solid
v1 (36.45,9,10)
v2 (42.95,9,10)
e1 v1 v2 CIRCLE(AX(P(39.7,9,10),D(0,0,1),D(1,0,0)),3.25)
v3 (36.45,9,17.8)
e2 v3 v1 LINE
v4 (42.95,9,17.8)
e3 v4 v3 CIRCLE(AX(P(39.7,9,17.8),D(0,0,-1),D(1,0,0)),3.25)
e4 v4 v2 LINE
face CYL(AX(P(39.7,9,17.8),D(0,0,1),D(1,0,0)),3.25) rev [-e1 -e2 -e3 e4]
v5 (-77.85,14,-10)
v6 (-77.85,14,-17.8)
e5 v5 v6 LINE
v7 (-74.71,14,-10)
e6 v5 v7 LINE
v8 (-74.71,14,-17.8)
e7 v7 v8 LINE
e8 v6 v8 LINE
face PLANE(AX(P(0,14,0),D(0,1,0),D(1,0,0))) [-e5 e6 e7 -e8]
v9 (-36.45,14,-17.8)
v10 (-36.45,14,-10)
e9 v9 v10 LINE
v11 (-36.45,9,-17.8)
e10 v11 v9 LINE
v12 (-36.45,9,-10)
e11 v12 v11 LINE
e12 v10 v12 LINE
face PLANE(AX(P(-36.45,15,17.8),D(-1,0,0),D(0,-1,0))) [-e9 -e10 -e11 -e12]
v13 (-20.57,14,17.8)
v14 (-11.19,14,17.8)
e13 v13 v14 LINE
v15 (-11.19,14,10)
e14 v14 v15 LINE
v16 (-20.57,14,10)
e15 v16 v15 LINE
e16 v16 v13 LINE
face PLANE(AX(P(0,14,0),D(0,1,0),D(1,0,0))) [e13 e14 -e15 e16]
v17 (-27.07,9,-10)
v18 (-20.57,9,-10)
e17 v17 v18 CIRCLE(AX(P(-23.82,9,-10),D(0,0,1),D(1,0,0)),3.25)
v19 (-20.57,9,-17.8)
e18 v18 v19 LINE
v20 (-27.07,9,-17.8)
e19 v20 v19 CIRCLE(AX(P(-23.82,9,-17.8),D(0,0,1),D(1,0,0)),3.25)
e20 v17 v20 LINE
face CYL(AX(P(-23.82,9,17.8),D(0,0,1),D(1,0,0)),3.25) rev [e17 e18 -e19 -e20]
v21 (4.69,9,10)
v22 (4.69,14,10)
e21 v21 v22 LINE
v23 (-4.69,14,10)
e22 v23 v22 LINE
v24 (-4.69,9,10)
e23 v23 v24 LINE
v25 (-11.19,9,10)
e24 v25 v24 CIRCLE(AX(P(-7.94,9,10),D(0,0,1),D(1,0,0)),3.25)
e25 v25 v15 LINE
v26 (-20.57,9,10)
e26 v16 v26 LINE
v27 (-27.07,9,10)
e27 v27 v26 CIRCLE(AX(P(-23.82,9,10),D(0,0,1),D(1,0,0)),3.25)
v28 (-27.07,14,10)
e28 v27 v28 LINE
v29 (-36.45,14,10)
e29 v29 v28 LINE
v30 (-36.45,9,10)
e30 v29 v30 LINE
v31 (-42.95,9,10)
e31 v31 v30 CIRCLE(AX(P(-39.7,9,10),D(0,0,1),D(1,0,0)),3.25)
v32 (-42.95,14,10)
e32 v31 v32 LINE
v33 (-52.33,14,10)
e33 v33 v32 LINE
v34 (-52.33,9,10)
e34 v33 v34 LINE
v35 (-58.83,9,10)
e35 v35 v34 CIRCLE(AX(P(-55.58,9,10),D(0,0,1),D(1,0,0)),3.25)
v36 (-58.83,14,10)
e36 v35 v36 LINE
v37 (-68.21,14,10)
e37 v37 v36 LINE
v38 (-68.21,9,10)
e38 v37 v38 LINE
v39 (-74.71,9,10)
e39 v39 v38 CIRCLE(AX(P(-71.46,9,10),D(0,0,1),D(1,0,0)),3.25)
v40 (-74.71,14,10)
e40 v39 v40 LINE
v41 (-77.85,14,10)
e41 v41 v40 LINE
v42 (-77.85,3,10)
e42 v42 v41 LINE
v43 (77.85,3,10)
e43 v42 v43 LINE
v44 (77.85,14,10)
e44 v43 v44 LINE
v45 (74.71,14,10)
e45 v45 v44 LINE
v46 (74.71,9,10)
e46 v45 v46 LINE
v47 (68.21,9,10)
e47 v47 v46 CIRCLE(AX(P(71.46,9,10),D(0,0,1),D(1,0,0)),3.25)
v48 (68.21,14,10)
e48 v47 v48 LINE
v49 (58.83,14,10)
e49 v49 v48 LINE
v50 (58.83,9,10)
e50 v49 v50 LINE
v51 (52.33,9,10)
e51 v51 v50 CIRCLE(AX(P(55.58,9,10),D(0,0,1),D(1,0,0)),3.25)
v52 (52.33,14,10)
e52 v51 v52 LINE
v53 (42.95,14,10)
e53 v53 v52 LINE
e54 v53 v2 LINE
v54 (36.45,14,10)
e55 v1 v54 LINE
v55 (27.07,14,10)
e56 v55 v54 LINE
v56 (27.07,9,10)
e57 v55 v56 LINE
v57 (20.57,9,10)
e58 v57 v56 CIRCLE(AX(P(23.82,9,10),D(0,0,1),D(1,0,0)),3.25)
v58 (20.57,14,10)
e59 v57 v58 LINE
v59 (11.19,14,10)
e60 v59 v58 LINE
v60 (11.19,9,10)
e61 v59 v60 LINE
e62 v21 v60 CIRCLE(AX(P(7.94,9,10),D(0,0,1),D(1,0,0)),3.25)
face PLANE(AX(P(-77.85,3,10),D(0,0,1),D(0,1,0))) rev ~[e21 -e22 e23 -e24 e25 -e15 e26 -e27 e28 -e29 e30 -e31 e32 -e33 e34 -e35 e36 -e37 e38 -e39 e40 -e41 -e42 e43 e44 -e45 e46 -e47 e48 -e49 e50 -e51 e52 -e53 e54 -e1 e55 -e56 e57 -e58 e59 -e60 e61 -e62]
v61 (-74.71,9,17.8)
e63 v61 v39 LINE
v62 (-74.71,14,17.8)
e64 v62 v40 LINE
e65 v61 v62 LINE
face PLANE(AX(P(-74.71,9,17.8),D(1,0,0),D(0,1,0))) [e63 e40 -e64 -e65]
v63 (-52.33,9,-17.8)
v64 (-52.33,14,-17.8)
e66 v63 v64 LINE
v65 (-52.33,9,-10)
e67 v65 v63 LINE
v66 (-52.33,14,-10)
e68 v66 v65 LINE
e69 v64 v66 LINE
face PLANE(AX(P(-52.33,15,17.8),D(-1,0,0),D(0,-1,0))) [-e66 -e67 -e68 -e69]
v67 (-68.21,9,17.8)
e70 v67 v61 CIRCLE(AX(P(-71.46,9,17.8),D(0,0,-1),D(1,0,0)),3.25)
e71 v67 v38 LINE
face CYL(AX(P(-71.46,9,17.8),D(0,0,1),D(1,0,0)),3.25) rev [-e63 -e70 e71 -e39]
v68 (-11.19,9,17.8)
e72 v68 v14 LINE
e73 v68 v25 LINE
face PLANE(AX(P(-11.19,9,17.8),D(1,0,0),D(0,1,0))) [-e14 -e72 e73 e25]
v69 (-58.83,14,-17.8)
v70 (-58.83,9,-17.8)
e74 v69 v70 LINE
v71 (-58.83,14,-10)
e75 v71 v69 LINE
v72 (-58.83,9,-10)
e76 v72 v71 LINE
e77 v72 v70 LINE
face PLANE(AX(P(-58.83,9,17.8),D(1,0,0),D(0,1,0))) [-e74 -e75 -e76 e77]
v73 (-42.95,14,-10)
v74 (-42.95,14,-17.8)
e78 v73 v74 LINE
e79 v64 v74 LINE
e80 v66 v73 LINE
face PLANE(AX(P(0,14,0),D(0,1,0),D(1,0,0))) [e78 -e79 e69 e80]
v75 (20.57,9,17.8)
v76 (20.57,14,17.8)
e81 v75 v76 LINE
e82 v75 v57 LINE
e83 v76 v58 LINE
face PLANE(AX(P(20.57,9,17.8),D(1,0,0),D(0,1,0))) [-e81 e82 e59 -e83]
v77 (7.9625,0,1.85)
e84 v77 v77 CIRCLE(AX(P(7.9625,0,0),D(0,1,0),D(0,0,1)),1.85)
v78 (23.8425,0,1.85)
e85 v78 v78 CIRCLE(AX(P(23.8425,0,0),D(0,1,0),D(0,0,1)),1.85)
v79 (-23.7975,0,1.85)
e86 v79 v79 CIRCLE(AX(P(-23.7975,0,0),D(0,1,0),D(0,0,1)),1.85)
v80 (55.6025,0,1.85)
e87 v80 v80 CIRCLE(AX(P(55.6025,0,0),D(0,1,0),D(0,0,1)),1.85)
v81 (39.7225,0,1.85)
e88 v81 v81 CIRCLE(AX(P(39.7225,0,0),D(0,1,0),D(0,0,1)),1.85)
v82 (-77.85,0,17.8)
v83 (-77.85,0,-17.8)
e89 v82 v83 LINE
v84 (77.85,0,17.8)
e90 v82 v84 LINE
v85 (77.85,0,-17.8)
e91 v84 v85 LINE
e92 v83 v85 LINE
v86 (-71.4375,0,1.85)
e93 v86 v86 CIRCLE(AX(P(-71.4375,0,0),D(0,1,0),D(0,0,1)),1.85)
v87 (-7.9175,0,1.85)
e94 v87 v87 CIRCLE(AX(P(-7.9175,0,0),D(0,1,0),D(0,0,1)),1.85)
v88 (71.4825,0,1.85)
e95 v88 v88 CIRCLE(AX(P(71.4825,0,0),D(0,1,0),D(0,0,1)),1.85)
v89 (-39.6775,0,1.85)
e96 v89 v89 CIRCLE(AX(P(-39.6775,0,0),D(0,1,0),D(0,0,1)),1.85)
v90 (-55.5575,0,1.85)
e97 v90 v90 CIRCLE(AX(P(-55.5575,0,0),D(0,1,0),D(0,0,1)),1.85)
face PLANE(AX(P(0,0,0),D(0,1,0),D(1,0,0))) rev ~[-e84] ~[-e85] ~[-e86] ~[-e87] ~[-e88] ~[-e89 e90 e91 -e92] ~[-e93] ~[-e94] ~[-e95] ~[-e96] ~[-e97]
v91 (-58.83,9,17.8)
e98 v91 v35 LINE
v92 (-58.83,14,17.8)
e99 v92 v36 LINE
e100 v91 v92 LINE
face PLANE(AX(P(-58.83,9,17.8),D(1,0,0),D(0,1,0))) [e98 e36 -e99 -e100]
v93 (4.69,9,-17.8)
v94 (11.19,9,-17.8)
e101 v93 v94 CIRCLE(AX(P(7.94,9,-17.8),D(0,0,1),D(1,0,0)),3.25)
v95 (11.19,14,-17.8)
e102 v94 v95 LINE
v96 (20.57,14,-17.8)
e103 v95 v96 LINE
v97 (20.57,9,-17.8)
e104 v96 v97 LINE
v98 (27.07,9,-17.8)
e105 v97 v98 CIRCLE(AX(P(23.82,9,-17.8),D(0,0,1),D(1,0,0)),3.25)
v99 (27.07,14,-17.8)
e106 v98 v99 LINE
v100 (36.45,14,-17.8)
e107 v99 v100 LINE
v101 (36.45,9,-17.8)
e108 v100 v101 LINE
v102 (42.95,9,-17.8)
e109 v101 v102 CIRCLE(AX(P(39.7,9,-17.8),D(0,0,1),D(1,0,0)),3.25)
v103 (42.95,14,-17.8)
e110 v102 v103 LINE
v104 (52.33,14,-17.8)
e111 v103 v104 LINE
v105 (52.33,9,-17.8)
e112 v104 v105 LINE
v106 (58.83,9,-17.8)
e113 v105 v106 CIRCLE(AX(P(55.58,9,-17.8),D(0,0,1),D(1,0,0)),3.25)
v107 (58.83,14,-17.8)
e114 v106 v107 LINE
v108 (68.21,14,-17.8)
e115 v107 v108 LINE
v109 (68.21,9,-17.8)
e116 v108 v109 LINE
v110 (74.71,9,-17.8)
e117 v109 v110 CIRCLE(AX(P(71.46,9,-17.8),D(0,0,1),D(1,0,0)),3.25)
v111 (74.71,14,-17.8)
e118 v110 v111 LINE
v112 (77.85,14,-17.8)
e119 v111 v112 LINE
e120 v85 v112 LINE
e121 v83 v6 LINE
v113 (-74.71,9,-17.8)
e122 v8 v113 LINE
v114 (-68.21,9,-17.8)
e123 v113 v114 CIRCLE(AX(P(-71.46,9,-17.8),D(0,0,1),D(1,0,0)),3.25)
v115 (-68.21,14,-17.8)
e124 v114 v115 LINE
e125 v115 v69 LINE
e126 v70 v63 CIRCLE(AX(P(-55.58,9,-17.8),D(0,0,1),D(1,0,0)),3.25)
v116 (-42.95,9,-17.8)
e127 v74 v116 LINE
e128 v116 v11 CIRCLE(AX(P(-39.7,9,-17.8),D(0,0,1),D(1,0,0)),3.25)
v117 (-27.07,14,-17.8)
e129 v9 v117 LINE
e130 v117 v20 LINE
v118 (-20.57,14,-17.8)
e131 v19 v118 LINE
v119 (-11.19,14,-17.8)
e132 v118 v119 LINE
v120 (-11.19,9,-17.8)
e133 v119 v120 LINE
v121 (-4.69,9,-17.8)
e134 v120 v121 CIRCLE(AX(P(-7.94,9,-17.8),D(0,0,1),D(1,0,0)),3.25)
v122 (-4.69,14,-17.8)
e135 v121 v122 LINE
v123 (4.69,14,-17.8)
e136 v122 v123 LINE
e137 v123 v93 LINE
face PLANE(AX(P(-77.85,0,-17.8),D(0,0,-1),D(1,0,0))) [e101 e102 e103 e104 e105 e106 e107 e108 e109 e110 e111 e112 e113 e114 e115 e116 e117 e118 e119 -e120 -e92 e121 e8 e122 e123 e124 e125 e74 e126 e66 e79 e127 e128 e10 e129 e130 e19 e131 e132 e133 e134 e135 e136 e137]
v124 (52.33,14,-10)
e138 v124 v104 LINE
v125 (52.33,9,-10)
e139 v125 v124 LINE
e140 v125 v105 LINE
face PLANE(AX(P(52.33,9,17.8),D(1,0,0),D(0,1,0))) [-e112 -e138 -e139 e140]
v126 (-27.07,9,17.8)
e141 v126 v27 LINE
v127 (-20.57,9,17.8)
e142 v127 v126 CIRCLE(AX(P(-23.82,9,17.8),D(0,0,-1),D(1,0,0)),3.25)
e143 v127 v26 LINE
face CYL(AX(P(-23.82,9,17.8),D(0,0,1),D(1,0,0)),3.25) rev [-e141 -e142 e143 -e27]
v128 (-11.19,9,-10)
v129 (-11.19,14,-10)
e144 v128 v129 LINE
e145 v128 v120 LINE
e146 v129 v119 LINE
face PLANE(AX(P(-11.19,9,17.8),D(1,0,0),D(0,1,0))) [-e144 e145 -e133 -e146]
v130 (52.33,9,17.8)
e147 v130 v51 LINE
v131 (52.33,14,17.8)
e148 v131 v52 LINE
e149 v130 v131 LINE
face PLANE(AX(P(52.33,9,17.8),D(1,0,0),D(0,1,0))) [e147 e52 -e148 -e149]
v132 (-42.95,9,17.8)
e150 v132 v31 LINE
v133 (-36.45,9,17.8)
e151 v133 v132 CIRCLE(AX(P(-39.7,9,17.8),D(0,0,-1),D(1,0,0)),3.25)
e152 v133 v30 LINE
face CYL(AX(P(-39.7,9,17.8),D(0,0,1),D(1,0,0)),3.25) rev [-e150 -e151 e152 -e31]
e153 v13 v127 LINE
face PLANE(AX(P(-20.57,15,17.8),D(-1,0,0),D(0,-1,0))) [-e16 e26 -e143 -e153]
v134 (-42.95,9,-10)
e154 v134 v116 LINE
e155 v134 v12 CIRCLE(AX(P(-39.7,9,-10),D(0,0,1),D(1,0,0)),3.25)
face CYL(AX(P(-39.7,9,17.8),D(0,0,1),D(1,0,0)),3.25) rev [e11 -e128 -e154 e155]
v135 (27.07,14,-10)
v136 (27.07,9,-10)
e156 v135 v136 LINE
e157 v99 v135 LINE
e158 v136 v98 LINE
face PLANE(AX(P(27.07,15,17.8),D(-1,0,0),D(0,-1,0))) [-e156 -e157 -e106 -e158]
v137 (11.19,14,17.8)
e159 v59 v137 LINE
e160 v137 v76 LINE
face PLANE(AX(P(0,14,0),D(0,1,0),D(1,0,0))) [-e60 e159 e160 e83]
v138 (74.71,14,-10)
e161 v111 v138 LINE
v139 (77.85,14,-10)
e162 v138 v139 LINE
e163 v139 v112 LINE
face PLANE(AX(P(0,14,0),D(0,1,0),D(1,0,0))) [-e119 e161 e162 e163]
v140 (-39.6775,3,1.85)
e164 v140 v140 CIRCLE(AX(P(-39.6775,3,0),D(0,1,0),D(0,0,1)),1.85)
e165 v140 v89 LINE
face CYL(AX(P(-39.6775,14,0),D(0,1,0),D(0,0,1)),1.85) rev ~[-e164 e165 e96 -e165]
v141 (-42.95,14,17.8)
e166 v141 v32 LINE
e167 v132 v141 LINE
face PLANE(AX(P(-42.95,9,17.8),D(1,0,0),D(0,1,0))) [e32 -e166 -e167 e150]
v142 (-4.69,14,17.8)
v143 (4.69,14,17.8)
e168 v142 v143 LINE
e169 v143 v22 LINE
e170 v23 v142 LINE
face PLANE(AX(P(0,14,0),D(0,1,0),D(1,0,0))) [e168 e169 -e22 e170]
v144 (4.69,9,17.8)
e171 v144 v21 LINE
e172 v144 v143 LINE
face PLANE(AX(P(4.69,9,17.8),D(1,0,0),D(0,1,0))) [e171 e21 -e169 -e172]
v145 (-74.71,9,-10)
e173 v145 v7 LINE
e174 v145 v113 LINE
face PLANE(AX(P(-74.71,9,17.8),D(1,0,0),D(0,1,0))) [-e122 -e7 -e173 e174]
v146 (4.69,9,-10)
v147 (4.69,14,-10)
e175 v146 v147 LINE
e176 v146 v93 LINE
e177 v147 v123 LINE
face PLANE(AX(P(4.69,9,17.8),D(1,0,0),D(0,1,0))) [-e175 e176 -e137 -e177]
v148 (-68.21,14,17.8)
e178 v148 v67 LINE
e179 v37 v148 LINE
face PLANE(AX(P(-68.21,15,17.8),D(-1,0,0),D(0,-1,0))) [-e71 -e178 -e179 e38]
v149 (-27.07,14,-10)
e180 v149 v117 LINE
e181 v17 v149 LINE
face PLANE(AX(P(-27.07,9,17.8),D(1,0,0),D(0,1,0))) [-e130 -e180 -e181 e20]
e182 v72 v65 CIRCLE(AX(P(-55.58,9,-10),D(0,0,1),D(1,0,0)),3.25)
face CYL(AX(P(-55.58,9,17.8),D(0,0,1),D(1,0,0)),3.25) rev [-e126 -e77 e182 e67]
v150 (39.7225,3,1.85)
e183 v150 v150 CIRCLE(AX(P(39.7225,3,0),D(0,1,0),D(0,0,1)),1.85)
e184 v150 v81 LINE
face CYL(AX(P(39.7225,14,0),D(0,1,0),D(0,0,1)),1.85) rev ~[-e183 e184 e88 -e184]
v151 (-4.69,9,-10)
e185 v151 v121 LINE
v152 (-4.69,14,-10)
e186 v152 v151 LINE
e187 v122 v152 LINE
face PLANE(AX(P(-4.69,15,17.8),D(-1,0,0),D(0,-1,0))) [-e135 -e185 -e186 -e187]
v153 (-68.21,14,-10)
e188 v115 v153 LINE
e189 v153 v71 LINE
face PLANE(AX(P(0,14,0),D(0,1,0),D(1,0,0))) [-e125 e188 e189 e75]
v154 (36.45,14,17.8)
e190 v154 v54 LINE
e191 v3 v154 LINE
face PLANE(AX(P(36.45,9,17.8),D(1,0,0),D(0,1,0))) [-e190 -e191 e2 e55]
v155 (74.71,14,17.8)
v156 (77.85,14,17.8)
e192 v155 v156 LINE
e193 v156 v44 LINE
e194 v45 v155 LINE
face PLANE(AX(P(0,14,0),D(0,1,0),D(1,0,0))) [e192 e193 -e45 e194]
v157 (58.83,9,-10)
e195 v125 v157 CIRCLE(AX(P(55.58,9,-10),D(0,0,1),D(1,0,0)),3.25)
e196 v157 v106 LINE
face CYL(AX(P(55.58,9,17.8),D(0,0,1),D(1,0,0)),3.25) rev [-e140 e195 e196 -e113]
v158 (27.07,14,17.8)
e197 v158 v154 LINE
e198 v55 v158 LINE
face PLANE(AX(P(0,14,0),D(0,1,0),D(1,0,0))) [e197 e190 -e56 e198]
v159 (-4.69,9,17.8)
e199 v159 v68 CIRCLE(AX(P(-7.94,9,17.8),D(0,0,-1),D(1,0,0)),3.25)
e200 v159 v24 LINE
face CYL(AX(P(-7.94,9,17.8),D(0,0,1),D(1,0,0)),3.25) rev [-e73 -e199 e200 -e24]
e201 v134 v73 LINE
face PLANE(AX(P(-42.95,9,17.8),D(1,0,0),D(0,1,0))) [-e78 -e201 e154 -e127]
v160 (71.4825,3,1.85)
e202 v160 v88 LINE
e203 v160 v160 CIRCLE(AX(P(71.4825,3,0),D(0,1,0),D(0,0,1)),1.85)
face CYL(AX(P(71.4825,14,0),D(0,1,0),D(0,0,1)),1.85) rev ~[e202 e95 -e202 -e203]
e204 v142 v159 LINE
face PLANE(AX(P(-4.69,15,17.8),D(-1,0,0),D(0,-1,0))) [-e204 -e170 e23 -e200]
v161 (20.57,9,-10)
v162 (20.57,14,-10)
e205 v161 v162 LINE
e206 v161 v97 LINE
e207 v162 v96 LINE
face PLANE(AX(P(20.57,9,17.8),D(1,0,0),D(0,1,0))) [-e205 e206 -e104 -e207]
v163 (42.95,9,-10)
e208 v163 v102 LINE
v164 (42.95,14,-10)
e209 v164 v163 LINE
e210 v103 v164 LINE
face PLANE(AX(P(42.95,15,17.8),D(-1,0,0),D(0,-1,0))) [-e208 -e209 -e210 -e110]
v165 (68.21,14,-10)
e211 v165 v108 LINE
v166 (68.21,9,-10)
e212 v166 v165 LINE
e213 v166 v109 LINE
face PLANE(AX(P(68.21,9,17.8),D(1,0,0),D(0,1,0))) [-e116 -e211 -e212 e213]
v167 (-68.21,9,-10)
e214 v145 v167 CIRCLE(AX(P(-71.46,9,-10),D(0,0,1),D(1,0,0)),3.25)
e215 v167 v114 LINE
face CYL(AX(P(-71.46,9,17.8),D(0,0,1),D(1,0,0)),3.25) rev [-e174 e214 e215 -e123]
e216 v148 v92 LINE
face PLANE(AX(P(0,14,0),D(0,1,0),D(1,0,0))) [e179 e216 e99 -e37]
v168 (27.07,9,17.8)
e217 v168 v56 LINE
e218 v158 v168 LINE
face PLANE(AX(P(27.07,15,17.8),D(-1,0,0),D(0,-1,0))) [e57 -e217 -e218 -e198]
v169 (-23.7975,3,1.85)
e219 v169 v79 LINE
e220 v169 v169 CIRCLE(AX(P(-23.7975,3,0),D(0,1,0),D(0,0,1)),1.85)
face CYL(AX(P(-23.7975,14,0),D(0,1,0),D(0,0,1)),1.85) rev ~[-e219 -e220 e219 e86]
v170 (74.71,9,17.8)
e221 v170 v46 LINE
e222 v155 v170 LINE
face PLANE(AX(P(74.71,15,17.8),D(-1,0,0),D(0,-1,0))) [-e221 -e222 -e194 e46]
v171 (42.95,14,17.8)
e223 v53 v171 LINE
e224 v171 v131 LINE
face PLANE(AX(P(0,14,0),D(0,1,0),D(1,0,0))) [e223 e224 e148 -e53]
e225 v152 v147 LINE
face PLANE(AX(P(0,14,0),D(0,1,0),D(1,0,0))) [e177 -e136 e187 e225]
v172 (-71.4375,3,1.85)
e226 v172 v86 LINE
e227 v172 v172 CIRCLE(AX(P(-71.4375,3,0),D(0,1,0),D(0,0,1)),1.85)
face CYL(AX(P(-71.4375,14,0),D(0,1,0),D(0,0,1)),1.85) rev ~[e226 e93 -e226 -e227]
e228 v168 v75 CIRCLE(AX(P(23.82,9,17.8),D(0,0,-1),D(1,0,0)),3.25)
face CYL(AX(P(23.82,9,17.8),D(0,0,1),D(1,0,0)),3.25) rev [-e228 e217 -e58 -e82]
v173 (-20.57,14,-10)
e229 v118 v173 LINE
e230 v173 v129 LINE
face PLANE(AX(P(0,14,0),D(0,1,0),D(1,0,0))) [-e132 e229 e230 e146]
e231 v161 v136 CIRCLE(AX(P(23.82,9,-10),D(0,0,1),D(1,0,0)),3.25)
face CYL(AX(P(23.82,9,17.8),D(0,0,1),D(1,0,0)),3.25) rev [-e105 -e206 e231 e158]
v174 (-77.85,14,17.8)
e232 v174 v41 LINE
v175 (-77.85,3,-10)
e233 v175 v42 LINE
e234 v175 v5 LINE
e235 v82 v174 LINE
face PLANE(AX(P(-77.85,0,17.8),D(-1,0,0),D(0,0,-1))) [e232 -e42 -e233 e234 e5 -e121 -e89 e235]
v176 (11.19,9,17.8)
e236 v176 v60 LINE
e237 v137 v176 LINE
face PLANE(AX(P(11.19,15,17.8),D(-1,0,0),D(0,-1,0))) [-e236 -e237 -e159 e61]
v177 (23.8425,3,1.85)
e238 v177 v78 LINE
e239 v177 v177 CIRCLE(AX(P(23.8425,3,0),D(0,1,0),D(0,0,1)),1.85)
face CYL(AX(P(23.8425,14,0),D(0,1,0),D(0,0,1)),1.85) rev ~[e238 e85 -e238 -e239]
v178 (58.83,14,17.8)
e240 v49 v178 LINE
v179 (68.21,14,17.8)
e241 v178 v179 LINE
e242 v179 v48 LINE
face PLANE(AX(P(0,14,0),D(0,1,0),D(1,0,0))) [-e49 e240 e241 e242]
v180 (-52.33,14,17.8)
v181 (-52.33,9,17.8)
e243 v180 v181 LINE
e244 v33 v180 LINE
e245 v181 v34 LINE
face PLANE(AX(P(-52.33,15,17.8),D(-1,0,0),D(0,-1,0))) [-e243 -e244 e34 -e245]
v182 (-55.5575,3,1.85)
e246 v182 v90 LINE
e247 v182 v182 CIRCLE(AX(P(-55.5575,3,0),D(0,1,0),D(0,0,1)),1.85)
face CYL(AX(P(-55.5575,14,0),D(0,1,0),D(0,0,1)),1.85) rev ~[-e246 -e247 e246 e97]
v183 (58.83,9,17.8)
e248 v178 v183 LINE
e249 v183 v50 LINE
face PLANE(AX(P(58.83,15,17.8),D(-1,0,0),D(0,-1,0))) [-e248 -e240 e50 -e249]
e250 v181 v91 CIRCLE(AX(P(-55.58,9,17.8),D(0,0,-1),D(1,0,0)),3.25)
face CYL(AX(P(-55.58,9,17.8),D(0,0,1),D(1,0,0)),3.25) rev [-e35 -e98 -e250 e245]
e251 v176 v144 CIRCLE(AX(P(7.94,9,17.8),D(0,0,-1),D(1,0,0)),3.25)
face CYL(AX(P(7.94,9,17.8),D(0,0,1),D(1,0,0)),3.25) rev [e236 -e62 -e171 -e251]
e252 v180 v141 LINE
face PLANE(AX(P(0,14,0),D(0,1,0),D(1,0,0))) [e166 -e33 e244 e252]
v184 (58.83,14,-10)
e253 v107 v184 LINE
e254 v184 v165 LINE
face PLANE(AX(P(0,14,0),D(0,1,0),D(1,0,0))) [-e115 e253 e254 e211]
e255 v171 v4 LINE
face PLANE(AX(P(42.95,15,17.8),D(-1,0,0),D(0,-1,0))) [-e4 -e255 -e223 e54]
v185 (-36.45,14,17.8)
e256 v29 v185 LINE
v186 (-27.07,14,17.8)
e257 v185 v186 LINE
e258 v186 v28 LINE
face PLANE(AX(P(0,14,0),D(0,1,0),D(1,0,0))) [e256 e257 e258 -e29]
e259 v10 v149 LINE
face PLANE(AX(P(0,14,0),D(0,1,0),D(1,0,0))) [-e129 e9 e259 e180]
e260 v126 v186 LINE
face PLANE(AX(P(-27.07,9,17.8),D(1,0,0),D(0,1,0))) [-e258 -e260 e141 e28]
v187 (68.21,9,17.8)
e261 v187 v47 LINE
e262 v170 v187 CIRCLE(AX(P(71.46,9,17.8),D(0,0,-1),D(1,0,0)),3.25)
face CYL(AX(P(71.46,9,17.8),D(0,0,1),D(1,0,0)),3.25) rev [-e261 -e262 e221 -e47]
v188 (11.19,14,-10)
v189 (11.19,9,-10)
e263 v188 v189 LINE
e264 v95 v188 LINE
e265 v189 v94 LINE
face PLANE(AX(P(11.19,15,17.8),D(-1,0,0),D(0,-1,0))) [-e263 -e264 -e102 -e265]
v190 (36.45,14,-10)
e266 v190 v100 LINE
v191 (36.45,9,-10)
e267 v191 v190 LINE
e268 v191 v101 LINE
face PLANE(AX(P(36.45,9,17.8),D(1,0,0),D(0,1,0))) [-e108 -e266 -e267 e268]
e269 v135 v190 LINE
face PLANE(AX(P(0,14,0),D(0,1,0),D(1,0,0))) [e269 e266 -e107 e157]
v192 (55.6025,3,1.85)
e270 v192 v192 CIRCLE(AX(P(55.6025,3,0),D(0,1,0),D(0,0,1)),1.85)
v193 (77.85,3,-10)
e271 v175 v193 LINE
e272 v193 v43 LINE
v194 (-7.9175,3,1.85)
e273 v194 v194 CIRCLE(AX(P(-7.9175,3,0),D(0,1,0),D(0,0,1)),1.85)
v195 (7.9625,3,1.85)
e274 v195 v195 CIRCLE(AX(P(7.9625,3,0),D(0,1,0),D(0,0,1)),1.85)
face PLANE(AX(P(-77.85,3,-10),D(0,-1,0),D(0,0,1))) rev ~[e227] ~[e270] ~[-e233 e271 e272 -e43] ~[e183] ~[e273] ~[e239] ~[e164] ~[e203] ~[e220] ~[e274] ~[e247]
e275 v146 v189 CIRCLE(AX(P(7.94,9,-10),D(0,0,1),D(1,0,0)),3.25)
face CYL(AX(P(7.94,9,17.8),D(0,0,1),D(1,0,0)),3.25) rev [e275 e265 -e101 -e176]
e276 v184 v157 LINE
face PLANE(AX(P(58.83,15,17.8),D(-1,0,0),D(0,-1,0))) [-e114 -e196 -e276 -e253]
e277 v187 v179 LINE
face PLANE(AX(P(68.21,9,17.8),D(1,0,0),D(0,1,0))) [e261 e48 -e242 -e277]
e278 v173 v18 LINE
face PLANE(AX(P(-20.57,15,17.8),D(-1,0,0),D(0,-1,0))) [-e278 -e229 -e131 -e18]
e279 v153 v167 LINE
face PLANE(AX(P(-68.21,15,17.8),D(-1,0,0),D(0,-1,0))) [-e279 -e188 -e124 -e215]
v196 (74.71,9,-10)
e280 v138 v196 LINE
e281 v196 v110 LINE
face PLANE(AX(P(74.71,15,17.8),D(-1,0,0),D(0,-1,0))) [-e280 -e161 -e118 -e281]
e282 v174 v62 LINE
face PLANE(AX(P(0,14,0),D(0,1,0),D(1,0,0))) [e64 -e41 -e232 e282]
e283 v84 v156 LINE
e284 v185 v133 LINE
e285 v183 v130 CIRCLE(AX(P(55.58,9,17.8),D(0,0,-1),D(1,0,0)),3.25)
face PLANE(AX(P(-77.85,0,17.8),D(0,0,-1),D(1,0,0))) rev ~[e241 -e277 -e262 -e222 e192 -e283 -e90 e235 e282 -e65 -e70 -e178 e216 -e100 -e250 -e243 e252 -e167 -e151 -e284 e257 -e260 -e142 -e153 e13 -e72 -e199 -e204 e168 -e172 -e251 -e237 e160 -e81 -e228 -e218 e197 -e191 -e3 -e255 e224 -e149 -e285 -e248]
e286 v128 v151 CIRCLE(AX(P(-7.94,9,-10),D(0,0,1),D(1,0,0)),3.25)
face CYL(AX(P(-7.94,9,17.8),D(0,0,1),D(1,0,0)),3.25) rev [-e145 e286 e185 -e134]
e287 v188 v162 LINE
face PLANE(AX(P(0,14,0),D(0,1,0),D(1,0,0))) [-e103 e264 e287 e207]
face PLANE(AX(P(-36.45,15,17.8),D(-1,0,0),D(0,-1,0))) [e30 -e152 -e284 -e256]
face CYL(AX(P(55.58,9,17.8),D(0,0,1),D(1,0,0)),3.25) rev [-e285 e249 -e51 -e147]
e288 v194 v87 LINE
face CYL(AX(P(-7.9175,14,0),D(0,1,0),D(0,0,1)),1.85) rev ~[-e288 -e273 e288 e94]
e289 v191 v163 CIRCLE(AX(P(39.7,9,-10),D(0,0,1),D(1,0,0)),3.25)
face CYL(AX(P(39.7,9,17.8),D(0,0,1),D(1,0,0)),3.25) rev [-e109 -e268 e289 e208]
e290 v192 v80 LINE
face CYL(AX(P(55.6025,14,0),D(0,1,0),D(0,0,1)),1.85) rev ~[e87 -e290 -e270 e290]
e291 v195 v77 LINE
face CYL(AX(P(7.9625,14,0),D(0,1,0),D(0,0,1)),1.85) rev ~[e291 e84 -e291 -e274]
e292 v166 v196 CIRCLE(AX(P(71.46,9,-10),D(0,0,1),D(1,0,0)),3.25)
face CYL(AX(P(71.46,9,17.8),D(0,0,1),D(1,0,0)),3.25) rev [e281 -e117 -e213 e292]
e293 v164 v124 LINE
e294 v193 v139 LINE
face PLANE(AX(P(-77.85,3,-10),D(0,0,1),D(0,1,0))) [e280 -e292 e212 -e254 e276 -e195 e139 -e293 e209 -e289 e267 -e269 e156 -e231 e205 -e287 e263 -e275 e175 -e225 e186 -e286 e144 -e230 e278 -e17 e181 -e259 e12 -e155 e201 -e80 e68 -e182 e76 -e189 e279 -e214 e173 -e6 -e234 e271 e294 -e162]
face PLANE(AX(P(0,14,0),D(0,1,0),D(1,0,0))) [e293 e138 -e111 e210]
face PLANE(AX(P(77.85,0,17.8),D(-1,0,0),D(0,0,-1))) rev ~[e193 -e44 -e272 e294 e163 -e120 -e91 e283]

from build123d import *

# Parameters (mm, degrees)
SKETCH1_W           = 155.7
SKETCH1_H           = 35.6
BOSS_EXTRUDE1_DEPTH = 14
SKETCH3_R           = 1.85
CUT_EXTRUDE1_DEPTH  = 82.076892516
SKETCH4_W           = 20
SKETCH4_H           = 11
CUT_EXTRUDE2_DEPTH  = 158.338266166
CUT_EXTRUDE3_DEPTH  = 87.740892894


with BuildPart() as part:
    # Sketch1 → Boss-Extrude1 (new body)
    with BuildSketch(Plane(origin=(0, 0, 0), x_dir=(1, 0, 0), z_dir=(0, 1, 0))):
        Rectangle(SKETCH1_W, SKETCH1_H)
    extrude(amount=BOSS_EXTRUDE1_DEPTH)

    # Sketch3 → Cut-Extrude1 (cut, through all)
    with BuildSketch(Plane(origin=(0, 14, 0), x_dir=(1, 0, 0), z_dir=(0, 1, 0))):
        with Locations(Location((-71.4375, 0, 0), (0, 0, 270))):
            Circle(SKETCH3_R)
        with Locations(Location((-55.5575, 0, 0), (0, 0, 270))):
            Circle(SKETCH3_R)
        with Locations(Location((-39.6775, 0, 0), (0, 0, 270))):
            Circle(SKETCH3_R)
        with Locations(Location((-23.7975, 0, 0), (0, 0, 270))):
            Circle(SKETCH3_R)
        with Locations(Location((-7.9175, 0, 0), (0, 0, 270))):
            Circle(SKETCH3_R)
        with Locations(Location((7.9625, 0, 0), (0, 0, 270))):
            Circle(SKETCH3_R)
        with Locations(Location((23.8425, 0, 0), (0, 0, 270))):
            Circle(SKETCH3_R)
        with Locations(Location((39.7225, 0, 0), (0, 0, 270))):
            Circle(SKETCH3_R)
        with Locations(Location((55.6025, 0, 0), (0, 0, 270))):
            Circle(SKETCH3_R)
        with Locations(Location((71.4825, 0, 0), (0, 0, 270))):
            Circle(SKETCH3_R)
    extrude(amount=-CUT_EXTRUDE1_DEPTH, mode=Mode.SUBTRACT)

    # Sketch4 → Cut-Extrude2 (cut, through all)
    with BuildSketch(Plane.ZY.offset(77.85)):
        with Locations((0, 8.5)):
            Rectangle(SKETCH4_W, SKETCH4_H)
    extrude(amount=-CUT_EXTRUDE2_DEPTH, mode=Mode.SUBTRACT)

    # Sketch5 → Cut-Extrude3 (cut, through all)
    with BuildSketch(Plane.XY.offset(17.8)):
        with BuildLine():
            Line((-74.71, 9), (-74.71, 15))
            Line((-74.71, 15), (-68.21, 15))
            Line((-68.21, 15), (-68.21, 9))
            ThreePointArc((-68.21, 9), (-71.46, 5.75), (-74.71, 9))
        make_face()
        with BuildLine():
            Line((-52.33, 15), (-52.33, 9))
            ThreePointArc((-52.33, 9), (-55.58, 5.75), (-58.83, 9))
            Line((-58.83, 9), (-58.83, 15))
            Line((-58.83, 15), (-52.33, 15))
        make_face()
        with BuildLine():
            Line((-36.45, 15), (-36.45, 9))
            ThreePointArc((-36.45, 9), (-39.7, 5.75), (-42.95, 9))
            Line((-42.95, 9), (-42.95, 15))
            Line((-42.95, 15), (-36.45, 15))
        make_face()
        with BuildLine():
            Line((-20.57, 15), (-20.57, 9))
            ThreePointArc((-20.57, 9), (-23.82, 5.75), (-27.07, 9))
            Line((-27.07, 9), (-27.07, 15))
            Line((-27.07, 15), (-20.57, 15))
        make_face()
        with BuildLine():
            Line((-4.69, 15), (-4.69, 9))
            ThreePointArc((-4.69, 9), (-7.94, 5.75), (-11.19, 9))
            Line((-11.19, 9), (-11.19, 15))
            Line((-11.19, 15), (-4.69, 15))
        make_face()
        with BuildLine():
            Line((11.19, 15), (11.19, 9))
            ThreePointArc((11.19, 9), (7.94, 5.75), (4.69, 9))
            Line((4.69, 9), (4.69, 15))
            Line((4.69, 15), (11.19, 15))
        make_face()
        with BuildLine():
            Line((27.07, 15), (27.07, 9))
            ThreePointArc((27.07, 9), (23.82, 5.75), (20.57, 9))
            Line((20.57, 9), (20.57, 15))
            Line((20.57, 15), (27.07, 15))
        make_face()
        with BuildLine():
            Line((42.95, 15), (42.95, 9))
            ThreePointArc((42.95, 9), (39.7, 5.75), (36.45, 9))
            Line((36.45, 9), (36.45, 15))
            Line((36.45, 15), (42.95, 15))
        make_face()
        with BuildLine():
            Line((58.83, 15), (58.83, 9))
            ThreePointArc((58.83, 9), (55.58, 5.75), (52.33, 9))
            Line((52.33, 9), (52.33, 15))
            Line((52.33, 15), (58.83, 15))
        make_face()
        with BuildLine():
            Line((74.71, 15), (74.71, 9))
            ThreePointArc((74.71, 9), (71.46, 5.75), (68.21, 9))
            Line((68.21, 9), (68.21, 15))
            Line((68.21, 15), (74.71, 15))
        make_face()
    extrude(amount=-CUT_EXTRUDE3_DEPTH, mode=Mode.SUBTRACT)


solid = part.part
